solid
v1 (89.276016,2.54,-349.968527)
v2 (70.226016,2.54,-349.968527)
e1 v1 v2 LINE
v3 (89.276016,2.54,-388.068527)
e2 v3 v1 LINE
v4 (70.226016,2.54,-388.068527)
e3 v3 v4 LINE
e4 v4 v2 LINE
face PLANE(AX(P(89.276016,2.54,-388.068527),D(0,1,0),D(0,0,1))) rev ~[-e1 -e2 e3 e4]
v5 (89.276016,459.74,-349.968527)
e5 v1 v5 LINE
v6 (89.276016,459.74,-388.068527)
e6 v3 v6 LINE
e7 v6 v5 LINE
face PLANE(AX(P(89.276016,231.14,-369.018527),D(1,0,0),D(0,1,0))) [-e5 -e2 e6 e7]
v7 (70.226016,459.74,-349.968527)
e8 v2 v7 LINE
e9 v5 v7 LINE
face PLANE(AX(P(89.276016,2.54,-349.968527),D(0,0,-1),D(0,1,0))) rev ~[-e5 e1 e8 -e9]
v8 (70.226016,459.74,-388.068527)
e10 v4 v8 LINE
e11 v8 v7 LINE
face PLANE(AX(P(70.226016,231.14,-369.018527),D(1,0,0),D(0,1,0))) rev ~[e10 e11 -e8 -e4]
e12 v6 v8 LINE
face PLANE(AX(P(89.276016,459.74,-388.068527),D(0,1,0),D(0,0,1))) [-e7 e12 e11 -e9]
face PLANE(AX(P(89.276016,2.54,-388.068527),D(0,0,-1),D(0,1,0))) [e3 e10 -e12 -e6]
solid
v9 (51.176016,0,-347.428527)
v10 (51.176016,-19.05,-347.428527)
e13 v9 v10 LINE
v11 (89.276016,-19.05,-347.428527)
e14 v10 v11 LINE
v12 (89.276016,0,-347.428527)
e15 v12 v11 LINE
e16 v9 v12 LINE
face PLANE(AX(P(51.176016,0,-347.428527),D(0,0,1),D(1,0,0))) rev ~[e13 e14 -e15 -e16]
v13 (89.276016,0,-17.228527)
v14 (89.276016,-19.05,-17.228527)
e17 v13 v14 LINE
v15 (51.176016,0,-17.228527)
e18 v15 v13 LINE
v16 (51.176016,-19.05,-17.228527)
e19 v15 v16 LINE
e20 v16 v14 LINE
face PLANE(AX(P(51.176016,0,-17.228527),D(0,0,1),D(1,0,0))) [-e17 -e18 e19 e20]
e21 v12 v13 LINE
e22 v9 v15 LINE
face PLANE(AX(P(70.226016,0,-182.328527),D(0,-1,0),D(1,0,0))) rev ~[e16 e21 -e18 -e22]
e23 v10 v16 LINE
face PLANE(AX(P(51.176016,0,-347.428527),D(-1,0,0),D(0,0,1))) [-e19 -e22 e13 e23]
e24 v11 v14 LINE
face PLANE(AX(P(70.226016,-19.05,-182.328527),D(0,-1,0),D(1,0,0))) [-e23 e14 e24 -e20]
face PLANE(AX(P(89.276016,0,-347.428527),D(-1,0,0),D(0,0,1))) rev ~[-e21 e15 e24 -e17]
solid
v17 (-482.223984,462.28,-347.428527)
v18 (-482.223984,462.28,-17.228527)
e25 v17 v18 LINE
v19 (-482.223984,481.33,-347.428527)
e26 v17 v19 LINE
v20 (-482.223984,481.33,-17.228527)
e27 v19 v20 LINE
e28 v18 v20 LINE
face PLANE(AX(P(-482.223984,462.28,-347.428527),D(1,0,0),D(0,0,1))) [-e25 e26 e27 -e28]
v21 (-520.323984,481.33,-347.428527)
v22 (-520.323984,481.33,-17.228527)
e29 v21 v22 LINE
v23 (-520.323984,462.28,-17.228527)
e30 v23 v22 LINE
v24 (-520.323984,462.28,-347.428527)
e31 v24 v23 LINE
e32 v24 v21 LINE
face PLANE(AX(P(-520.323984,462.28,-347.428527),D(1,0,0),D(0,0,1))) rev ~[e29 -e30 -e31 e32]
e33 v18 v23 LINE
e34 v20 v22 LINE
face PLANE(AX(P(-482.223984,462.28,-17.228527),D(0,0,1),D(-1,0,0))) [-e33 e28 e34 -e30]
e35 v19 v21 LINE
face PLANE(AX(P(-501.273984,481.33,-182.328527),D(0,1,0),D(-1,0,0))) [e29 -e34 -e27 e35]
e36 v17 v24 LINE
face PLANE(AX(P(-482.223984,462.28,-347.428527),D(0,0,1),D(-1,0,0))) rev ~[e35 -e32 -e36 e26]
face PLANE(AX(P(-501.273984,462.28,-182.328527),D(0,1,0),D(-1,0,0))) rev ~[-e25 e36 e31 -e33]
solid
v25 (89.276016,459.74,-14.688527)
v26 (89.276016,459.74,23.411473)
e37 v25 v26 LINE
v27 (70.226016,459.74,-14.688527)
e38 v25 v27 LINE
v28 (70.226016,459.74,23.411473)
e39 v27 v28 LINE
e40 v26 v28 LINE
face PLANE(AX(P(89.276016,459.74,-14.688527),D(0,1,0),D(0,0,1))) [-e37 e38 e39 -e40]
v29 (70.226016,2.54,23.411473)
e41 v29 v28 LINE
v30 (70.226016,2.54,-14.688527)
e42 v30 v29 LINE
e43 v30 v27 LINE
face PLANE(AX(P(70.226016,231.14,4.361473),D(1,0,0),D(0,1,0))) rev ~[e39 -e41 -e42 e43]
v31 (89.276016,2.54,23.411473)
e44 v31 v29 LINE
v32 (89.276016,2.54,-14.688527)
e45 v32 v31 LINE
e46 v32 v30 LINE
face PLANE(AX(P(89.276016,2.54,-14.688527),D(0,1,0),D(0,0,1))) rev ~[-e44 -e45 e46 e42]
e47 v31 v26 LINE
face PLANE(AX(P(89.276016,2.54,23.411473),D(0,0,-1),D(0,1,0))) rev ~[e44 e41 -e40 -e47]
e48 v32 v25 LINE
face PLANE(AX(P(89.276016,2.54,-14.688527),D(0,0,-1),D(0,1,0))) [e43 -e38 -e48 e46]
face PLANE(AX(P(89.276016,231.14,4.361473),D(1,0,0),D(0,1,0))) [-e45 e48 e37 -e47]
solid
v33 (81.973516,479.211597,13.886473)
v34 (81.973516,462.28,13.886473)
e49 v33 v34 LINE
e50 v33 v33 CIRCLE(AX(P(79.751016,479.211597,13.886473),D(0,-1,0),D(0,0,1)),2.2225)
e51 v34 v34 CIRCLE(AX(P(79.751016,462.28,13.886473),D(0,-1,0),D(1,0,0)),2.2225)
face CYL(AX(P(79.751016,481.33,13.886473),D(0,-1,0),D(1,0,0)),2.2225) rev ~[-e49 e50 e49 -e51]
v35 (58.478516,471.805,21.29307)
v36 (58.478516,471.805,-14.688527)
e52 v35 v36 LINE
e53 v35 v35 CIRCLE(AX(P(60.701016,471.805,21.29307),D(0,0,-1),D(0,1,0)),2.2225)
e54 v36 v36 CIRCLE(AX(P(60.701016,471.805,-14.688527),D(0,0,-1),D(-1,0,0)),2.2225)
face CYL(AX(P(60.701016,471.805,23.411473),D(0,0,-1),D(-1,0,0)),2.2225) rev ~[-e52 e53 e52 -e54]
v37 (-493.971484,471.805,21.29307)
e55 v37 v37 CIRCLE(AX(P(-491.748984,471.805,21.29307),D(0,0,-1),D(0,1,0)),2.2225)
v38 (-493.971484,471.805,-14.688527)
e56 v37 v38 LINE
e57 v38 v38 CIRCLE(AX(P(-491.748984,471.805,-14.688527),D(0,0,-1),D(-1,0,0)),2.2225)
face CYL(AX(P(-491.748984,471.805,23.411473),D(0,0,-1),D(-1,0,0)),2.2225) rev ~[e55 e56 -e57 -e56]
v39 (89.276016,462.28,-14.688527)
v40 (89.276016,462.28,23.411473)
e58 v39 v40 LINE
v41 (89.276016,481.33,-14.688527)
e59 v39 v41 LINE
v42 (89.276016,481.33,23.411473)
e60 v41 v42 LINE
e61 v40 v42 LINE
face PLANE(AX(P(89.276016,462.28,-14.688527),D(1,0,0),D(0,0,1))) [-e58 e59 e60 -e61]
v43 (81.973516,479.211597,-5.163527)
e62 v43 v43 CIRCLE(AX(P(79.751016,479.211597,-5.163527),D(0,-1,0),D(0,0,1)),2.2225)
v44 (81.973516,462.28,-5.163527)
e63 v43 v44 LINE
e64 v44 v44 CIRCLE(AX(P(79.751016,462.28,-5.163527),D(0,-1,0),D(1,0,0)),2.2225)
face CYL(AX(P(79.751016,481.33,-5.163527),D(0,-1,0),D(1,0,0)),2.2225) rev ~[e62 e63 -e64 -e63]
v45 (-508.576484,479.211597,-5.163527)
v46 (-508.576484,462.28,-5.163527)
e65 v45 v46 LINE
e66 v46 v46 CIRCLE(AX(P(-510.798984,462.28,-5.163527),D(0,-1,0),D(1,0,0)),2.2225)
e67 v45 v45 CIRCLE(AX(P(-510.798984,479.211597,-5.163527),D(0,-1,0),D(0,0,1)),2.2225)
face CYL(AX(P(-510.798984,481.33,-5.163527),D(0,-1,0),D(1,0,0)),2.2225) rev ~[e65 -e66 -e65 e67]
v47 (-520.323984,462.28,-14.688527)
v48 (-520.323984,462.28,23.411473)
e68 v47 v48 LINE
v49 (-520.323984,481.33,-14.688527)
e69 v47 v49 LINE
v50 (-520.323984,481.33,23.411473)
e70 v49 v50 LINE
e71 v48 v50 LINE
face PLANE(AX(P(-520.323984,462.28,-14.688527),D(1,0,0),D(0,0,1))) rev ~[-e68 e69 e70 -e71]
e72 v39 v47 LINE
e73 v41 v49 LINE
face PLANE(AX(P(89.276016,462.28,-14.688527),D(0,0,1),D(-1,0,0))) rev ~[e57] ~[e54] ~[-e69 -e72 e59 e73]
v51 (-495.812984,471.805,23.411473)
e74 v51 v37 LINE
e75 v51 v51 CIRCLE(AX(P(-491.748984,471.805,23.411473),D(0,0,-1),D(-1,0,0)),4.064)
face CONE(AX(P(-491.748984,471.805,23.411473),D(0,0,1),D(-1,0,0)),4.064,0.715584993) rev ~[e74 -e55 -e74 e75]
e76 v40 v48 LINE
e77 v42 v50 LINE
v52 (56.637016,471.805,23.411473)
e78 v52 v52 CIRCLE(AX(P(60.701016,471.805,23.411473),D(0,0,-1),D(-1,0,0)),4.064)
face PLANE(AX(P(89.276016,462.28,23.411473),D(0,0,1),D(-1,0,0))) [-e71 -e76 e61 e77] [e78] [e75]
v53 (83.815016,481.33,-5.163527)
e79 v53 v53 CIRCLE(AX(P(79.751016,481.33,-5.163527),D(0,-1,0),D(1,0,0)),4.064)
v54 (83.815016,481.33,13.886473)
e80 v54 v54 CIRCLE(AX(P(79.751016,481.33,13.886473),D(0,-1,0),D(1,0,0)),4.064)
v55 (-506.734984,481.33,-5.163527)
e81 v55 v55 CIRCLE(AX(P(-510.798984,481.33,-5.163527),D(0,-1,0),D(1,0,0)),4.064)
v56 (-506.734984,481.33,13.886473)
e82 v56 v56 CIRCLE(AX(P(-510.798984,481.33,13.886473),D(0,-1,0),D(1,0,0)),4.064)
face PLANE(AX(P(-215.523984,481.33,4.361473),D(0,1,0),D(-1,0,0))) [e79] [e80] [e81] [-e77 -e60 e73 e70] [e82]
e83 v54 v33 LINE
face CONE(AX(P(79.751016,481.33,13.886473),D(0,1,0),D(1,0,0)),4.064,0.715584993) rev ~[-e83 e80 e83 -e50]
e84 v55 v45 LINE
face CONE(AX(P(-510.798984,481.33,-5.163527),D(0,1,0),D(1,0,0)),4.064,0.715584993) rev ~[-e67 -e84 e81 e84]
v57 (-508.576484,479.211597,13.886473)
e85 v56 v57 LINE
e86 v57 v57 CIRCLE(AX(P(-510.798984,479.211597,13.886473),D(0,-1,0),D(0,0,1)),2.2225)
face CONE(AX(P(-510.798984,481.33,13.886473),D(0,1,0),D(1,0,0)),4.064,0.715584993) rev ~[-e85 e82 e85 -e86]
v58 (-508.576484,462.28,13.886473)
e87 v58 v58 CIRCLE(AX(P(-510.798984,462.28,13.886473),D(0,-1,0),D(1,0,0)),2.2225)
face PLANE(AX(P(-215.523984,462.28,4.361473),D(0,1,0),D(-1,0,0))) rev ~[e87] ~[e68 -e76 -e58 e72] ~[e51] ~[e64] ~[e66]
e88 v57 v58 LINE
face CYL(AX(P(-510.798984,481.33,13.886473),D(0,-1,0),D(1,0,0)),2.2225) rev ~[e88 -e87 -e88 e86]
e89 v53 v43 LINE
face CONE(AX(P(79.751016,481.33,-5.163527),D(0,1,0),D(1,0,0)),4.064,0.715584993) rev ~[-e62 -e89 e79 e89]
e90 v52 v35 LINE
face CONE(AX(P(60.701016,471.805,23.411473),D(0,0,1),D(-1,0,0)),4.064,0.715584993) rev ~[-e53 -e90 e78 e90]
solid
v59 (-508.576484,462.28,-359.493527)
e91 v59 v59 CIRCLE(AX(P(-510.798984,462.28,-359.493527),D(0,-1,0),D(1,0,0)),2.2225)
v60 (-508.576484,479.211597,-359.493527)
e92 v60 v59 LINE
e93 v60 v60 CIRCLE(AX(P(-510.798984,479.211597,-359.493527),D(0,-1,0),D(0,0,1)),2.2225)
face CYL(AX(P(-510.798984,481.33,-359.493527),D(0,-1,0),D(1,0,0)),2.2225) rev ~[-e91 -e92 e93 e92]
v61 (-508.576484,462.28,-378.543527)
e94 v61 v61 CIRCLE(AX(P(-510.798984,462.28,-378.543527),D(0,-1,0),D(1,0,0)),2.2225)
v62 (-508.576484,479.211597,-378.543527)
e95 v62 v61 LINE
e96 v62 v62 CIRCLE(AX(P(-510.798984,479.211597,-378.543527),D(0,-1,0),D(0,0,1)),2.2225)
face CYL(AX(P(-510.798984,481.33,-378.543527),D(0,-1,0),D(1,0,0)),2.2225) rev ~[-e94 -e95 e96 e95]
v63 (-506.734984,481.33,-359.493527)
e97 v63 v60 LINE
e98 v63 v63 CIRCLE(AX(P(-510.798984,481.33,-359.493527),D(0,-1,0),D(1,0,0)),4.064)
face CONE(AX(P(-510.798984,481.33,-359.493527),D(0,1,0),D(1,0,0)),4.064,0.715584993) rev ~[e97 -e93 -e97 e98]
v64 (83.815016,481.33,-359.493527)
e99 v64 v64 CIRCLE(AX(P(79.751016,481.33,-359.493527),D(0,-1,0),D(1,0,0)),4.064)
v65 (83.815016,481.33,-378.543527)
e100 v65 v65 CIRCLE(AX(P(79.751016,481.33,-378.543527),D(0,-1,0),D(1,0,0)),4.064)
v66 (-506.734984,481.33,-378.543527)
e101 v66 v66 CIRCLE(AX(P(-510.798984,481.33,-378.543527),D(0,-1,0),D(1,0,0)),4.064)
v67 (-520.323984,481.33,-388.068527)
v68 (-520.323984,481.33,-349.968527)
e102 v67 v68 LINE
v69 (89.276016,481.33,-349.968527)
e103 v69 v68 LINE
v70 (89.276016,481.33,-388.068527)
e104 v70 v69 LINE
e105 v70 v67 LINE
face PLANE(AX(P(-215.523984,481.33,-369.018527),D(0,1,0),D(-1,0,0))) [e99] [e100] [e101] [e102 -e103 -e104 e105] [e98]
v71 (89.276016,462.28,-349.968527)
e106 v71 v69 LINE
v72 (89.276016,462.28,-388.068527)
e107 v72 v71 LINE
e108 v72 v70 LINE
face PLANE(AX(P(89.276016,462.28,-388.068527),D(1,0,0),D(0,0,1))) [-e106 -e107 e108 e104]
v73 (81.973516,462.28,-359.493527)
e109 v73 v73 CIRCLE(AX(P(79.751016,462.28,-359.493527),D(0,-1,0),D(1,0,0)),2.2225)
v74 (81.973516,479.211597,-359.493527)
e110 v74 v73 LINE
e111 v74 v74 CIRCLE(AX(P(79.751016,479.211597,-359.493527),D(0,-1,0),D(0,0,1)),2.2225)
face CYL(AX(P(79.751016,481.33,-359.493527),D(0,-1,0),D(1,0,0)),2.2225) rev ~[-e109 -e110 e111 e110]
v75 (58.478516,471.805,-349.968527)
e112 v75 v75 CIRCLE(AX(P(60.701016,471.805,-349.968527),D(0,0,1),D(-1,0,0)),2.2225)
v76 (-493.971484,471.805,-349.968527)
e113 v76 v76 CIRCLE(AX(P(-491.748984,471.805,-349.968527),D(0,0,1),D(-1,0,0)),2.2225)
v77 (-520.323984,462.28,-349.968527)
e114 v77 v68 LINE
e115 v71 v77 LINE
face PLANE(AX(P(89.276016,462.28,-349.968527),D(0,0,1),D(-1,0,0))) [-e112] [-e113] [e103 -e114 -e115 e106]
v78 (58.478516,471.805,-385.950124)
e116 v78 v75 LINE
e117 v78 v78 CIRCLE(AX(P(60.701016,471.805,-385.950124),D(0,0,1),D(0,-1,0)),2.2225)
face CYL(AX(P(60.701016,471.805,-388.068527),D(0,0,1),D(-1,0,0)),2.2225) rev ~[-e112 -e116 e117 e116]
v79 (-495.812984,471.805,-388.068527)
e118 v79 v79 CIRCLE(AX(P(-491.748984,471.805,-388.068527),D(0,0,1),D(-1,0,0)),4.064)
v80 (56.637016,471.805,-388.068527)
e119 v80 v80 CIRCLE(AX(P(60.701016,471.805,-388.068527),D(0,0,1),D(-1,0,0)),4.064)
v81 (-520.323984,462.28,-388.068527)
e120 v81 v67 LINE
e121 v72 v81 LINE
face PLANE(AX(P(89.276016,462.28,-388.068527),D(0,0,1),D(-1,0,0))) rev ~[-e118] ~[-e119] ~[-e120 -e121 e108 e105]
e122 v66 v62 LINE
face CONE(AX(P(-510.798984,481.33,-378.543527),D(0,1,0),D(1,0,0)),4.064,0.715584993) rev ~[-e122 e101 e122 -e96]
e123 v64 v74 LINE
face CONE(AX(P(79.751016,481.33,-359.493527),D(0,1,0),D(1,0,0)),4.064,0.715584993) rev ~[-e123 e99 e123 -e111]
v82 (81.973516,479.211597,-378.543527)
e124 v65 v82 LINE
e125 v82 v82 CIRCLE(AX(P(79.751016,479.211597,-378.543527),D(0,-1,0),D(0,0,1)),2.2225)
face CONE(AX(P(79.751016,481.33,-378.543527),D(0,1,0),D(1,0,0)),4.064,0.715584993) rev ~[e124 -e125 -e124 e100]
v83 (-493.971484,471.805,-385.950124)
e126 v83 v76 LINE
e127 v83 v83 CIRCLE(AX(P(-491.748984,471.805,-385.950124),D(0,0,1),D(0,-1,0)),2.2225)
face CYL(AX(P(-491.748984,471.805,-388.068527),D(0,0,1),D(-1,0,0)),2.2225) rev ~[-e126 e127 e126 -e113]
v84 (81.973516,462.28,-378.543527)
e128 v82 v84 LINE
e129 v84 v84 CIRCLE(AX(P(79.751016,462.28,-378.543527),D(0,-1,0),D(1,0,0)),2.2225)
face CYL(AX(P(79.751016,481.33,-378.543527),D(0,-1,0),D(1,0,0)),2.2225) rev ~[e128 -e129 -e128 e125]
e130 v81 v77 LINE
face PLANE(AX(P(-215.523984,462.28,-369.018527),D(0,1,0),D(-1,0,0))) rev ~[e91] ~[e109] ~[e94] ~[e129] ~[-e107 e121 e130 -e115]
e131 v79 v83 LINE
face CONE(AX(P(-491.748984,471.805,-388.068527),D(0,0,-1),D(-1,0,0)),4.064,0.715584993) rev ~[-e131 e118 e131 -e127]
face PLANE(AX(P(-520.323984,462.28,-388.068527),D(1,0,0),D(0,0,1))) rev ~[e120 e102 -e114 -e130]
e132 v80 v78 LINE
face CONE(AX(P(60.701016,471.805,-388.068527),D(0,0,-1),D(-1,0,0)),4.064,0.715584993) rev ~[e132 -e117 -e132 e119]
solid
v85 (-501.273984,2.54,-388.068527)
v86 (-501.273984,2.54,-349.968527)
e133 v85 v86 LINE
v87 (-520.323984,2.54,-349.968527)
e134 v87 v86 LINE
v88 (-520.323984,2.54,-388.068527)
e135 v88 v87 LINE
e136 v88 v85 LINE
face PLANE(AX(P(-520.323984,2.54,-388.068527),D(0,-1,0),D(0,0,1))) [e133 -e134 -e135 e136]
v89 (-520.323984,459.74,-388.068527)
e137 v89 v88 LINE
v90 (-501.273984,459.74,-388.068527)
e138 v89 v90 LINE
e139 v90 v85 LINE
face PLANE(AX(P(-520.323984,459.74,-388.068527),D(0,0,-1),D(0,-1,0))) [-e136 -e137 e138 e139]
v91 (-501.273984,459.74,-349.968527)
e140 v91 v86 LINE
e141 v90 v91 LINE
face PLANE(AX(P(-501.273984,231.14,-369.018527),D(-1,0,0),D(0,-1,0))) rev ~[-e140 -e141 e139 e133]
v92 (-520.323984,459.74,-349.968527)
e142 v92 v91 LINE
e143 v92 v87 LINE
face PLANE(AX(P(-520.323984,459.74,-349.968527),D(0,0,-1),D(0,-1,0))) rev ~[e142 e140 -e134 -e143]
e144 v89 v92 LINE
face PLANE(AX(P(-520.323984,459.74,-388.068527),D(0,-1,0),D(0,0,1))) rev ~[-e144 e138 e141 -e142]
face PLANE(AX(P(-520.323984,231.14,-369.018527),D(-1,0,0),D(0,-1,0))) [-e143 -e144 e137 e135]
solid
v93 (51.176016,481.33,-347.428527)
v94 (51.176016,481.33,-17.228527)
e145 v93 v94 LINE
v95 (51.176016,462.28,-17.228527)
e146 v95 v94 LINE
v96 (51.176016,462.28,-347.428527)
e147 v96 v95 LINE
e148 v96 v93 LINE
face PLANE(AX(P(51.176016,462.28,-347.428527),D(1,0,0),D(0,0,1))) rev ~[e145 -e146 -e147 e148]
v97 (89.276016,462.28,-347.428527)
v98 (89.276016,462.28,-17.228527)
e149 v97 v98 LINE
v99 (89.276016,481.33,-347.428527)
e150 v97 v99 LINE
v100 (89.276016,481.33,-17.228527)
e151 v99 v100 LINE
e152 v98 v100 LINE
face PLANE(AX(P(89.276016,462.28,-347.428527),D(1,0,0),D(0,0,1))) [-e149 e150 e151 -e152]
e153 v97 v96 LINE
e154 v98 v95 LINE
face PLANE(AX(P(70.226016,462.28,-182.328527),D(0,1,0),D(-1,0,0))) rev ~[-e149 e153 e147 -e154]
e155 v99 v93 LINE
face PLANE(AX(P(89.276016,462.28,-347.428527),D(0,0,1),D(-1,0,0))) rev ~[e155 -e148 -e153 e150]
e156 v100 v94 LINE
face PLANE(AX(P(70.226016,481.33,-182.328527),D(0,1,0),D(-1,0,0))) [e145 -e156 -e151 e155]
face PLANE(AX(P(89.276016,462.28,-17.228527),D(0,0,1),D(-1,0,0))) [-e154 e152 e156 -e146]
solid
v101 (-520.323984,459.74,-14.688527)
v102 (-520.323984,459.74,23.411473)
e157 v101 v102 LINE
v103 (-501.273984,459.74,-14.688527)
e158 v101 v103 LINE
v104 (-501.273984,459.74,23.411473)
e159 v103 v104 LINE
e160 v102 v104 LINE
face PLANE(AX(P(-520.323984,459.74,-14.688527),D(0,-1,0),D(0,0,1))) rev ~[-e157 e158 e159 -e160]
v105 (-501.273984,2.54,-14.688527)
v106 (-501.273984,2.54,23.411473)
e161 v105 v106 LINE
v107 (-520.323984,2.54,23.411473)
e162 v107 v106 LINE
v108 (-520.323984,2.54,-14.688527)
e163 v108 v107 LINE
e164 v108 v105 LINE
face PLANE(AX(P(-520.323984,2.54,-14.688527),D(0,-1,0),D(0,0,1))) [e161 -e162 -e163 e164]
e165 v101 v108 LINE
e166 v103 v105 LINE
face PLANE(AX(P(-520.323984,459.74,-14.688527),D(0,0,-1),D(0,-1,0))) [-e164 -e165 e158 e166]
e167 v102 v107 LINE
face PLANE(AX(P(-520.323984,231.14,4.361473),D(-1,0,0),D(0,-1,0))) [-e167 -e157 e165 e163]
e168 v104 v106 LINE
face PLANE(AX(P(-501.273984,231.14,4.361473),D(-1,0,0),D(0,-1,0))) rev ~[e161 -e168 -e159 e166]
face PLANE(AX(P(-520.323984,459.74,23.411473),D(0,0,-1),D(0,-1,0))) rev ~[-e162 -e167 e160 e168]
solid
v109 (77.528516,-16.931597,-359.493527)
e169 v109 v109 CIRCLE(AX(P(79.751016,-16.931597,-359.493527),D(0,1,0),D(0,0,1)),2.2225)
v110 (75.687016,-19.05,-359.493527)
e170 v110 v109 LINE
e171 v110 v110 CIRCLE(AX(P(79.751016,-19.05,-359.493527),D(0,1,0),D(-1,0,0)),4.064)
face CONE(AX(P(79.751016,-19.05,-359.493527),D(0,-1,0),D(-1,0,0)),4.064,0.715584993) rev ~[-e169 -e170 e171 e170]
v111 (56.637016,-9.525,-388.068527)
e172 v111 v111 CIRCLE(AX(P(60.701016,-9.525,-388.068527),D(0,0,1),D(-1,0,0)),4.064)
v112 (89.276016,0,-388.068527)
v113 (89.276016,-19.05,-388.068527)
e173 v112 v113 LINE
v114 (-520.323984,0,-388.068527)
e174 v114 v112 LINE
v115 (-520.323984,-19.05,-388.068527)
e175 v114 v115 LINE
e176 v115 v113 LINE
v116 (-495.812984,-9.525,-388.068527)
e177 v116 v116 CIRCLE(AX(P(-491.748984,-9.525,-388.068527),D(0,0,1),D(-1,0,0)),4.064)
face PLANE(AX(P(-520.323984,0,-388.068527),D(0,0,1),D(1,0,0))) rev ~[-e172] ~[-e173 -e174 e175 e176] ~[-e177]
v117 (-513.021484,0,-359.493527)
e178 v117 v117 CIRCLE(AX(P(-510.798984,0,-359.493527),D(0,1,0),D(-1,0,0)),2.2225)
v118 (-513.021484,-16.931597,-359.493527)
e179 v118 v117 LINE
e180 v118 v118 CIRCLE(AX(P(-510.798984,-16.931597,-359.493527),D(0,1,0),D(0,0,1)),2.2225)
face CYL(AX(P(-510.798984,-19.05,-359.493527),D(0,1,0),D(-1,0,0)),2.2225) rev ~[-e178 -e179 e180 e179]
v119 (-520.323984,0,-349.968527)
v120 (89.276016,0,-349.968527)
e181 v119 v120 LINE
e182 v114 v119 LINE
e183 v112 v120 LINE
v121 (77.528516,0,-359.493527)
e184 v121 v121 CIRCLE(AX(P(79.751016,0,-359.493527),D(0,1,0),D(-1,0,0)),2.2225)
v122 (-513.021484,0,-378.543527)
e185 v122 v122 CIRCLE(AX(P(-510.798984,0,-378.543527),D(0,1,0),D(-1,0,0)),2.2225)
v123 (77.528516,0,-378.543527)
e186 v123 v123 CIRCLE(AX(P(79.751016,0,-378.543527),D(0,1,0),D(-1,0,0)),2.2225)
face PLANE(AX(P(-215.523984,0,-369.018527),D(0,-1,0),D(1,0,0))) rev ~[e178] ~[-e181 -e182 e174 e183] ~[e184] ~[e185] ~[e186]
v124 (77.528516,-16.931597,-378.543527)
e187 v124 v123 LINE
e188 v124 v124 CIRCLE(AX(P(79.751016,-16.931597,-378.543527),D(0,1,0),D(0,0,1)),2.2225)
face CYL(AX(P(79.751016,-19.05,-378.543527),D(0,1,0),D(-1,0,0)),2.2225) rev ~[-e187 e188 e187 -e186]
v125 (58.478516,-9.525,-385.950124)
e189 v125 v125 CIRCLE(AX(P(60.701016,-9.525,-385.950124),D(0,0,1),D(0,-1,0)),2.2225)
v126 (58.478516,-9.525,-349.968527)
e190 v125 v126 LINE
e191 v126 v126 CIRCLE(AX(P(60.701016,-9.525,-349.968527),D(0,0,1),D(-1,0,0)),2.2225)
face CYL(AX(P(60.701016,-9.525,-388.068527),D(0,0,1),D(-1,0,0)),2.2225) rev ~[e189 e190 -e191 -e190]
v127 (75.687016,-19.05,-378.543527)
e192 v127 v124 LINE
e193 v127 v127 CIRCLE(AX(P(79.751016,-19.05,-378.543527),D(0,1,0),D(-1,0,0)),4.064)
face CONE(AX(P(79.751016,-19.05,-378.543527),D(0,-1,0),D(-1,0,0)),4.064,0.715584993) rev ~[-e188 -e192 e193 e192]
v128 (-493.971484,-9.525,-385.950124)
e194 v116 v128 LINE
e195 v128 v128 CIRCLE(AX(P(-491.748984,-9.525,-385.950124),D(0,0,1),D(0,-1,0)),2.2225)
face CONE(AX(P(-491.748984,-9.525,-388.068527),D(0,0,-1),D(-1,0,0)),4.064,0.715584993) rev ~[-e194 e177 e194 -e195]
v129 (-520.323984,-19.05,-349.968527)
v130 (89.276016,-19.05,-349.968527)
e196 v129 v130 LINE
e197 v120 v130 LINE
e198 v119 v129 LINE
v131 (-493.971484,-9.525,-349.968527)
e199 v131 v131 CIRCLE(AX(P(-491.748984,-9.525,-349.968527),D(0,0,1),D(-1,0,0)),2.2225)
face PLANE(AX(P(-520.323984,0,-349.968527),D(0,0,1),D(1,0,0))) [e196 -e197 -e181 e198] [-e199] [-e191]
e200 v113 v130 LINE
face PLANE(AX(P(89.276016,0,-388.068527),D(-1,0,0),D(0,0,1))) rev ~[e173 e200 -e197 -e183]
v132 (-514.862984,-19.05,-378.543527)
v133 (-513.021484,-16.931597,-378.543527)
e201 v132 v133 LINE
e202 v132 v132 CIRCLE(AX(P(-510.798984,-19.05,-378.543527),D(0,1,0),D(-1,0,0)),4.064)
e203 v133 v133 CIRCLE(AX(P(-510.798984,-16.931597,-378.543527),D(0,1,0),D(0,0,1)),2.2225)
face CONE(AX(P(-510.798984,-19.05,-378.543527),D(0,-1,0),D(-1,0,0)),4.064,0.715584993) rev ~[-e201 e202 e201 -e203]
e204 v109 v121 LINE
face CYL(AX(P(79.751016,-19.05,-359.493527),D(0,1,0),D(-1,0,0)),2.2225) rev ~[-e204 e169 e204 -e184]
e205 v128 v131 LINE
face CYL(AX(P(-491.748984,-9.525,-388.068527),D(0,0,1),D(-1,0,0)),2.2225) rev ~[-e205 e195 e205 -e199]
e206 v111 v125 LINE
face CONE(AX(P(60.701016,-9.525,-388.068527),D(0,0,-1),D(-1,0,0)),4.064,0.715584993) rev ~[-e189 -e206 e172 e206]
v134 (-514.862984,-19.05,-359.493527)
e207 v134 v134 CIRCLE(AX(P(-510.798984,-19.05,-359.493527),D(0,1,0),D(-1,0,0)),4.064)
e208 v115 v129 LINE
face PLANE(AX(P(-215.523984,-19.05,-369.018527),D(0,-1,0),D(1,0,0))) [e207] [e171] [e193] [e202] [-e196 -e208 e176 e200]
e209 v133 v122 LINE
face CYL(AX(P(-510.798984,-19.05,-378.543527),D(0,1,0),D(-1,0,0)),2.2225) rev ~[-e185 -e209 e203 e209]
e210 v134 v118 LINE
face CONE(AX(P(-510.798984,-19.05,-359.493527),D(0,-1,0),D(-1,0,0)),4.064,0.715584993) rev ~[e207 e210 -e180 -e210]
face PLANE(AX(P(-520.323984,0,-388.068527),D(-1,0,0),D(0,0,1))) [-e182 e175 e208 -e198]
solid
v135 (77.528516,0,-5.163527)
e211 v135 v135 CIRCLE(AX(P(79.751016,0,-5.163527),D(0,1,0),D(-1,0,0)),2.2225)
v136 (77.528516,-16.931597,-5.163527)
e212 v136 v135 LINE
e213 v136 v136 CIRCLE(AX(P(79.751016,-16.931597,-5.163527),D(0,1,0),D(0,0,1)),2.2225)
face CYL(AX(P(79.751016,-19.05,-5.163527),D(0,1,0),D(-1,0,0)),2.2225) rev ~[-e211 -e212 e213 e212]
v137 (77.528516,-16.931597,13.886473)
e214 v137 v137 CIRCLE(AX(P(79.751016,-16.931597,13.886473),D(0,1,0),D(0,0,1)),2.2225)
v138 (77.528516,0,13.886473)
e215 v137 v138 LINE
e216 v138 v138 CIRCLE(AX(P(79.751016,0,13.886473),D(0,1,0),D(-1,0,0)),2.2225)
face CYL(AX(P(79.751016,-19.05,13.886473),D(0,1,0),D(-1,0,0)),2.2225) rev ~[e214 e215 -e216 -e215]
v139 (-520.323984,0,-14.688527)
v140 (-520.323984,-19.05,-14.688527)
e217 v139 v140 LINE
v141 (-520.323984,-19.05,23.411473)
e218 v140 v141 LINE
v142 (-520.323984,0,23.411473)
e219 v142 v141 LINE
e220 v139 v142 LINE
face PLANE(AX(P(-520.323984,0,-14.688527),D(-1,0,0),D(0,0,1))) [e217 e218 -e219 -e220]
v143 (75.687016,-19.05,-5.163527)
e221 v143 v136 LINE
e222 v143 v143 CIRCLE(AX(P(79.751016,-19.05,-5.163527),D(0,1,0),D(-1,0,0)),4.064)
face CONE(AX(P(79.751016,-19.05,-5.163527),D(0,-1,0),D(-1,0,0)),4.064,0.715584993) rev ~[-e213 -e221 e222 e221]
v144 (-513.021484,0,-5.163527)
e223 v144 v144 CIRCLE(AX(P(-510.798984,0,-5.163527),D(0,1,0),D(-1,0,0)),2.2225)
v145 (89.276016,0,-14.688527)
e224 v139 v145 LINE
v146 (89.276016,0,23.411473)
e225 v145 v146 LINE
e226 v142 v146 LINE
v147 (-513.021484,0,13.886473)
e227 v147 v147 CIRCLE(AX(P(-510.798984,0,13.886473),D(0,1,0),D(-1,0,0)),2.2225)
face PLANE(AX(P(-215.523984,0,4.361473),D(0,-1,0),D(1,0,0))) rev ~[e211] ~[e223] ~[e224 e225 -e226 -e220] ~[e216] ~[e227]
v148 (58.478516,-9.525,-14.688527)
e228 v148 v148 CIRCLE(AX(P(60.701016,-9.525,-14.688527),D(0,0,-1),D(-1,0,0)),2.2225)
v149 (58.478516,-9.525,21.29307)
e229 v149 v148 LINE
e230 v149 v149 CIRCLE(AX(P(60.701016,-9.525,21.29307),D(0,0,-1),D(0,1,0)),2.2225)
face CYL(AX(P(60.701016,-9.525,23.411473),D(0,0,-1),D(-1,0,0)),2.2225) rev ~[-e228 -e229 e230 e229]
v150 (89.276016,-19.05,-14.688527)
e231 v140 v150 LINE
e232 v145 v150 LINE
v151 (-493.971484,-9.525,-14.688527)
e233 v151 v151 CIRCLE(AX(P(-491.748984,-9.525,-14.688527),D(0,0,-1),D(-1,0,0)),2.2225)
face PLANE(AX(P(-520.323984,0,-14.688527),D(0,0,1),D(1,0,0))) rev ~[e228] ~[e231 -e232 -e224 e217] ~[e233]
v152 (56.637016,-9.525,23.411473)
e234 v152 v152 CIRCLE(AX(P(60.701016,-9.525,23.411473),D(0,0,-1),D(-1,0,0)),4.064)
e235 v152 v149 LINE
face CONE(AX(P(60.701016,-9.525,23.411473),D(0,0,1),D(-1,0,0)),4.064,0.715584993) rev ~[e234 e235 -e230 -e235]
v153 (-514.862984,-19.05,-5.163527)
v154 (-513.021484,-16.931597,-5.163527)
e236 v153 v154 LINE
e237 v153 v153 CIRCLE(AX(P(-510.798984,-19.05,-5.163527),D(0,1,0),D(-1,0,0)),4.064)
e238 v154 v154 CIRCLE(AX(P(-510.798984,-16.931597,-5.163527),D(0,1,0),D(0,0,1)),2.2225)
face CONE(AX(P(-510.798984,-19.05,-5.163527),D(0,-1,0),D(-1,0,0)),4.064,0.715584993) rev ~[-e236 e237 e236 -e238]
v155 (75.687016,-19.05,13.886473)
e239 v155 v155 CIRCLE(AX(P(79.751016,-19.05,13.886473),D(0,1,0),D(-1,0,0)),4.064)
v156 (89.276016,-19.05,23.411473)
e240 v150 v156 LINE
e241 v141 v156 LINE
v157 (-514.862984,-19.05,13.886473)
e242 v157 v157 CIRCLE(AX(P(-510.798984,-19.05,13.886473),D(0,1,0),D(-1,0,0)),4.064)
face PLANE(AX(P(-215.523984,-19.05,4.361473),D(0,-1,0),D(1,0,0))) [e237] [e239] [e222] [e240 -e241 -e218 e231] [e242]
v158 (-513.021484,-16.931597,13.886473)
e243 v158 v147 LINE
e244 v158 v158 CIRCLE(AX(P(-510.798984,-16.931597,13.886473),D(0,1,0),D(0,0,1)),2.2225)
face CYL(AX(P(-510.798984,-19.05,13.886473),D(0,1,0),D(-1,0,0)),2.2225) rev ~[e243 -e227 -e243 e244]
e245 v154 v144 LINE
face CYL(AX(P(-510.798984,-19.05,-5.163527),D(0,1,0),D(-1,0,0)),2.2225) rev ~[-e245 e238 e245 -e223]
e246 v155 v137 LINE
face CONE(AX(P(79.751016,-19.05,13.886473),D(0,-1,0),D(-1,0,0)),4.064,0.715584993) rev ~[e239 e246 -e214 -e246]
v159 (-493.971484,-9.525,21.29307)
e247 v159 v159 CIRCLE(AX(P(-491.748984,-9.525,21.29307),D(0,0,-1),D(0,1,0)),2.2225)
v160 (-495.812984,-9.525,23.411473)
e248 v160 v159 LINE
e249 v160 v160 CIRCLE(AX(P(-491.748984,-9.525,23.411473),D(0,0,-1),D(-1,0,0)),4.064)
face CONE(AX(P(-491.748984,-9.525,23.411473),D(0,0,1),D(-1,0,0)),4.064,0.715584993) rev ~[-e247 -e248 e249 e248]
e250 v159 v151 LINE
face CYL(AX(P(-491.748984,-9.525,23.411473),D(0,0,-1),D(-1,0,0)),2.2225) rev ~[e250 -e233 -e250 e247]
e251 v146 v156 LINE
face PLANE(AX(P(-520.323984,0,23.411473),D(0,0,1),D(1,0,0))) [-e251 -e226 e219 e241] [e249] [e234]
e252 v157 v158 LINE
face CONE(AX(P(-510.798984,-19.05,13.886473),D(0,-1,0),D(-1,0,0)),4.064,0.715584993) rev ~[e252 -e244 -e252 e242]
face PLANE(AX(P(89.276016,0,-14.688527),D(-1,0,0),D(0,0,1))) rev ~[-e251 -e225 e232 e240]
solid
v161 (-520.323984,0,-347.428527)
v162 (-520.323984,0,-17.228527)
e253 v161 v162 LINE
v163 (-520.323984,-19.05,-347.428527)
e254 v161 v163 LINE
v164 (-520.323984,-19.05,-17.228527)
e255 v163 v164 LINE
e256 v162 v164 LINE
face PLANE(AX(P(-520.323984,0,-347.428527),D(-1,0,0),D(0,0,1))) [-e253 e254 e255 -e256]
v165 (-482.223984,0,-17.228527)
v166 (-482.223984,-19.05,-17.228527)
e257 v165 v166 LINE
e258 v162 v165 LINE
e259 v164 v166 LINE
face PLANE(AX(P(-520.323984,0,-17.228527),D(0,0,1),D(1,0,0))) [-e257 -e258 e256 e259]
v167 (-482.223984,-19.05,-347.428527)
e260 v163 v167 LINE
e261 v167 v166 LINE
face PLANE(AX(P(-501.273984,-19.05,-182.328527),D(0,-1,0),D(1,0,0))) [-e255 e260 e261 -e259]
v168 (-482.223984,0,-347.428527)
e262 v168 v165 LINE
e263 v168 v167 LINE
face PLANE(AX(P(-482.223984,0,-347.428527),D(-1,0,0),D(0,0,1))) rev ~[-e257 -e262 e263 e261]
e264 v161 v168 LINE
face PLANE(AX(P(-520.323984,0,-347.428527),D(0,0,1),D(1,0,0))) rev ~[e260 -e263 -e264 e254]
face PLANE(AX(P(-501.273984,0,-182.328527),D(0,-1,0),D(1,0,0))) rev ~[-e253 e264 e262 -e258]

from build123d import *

# Parameters (mm, degrees)
F0_W              = 38.1
F0_H              = 330.2
F1_DEPTH          = 19.05
F0_W_2            = 609.6
F0_H_2            = 38.1
F2_W              = 457.2
F2_H              = 38.1
F3_DEPTH          = 19.05
F5_W              = 609.6
F5_H              = 38.1
F6_DEPTH          = 19.05
F5_W_2            = 38.1
F5_H_2            = 330.2
F7_W              = 457.2
F7_H              = 38.1
F8_DEPTH          = 19.05
F10_D             = 4.445
F10_CSINK_D       = 8.128
F10_CSINK_ANGLE   = 82
F10_2_D           = 4.445
F10_2_CSINK_D     = 8.128
F10_2_CSINK_ANGLE = 82
F12_D             = 4.445
F12_CSINK_D       = 8.128
F12_CSINK_ANGLE   = 82
F12_2_D           = 4.445
F12_2_CSINK_D     = 8.128
F12_2_CSINK_ANGLE = 82
F14_D             = 4.445
F14_CSINK_D       = 8.128
F14_CSINK_ANGLE   = 82
F14_2_D           = 4.445
F14_2_CSINK_D     = 8.128
F14_2_CSINK_ANGLE = 82
F16_D             = 4.445
F16_CSINK_D       = 8.128
F16_CSINK_ANGLE   = 82
F16_2_D           = 4.445
F16_2_CSINK_D     = 8.128
F16_2_CSINK_ANGLE = 82


with BuildPart() as f1:
    # F0 (on Front) → F1 (new body)
    with BuildSketch(Plane.XZ):
        with Locations((-501.2739842415, -182.3285269833)):
            Rectangle(F0_W, F0_H)
    extrude(amount=F1_DEPTH)


with BuildPart() as f1b:
    # F0 (on Front) → F1, piece 2 (new body)
    with BuildSketch(Plane.XZ):
        with Locations((-215.5239842415, 4.3614730167)):
            Rectangle(F0_W_2, F0_H_2)
    extrude(amount=F1_DEPTH)

    # F10 (through all)
    with Locations(Plane.XY.offset(23.4114730167)):
        with Locations((-491.7489842415, -9.525), (60.7010157585, -9.525), (60.7010157585, 471.805), (-491.7489842415, 471.805)):
            CounterSinkHole(F10_D / 2, F10_CSINK_D / 2, counter_sink_angle=F10_CSINK_ANGLE)

    # F16 (through all)
    with Locations(Plane.XZ.offset(19.05)):
        with Locations((79.7510157585, -378.5435269833), (79.7510157585, -359.4935269833), (-510.7989842415, -378.5435269833), (-510.7989842415, -359.4935269833), (-510.7989842415, 13.8864730167), (-510.7989842415, -5.1635269833), (79.7510157585, 13.8864730167), (79.7510157585, -5.1635269833)):
            CounterSinkHole(F16_D / 2, F16_CSINK_D / 2, counter_sink_angle=F16_CSINK_ANGLE)


with BuildPart() as f1c:
    # F0 (on Front) → F1, piece 3 (new body)
    with BuildSketch(Plane.XZ):
        with Locations((70.2260157585, -182.3285269833)):
            Rectangle(F0_W, F0_H)
    extrude(amount=F1_DEPTH)


with BuildPart() as f1d:
    # F0 (on Front) → F1, piece 4 (new body)
    with BuildSketch(Plane.XZ):
        with Locations((-215.5239842415, -369.0185269833)):
            Rectangle(F0_W_2, F0_H_2)
    extrude(amount=F1_DEPTH)

    # F12 (through all)
    with Locations(Plane(origin=(0, 0, -388.0685269833), x_dir=(1, 0, 0), z_dir=(0, 0, -1))):
        with Locations((-491.7489842415, 9.525), (60.7010157585, 9.525), (-491.7489842415, -471.805), (60.7010157585, -471.805)):
            CounterSinkHole(F12_D / 2, F12_CSINK_D / 2, counter_sink_angle=F12_CSINK_ANGLE)

    # F16#2 (through all)
    with Locations(Plane.XZ.offset(19.05)):
        with Locations((79.7510157585, -378.5435269833), (79.7510157585, -359.4935269833), (-510.7989842415, -378.5435269833), (-510.7989842415, -359.4935269833), (-510.7989842415, 13.8864730167), (-510.7989842415, -5.1635269833), (79.7510157585, 13.8864730167), (79.7510157585, -5.1635269833)):
            CounterSinkHole(F16_2_D / 2, F16_2_CSINK_D / 2, counter_sink_angle=F16_2_CSINK_ANGLE)


with BuildPart() as f3:
    # F2 (on face) → F3 (new body)
    with BuildSketch(Plane.YZ.offset(89.2760157585)):
        with Locations((231.14, 4.3614730167)):
            Rectangle(F2_W, F2_H)
    extrude(amount=-F3_DEPTH)


with BuildPart() as f3b:
    # F2 (on face) → F3, piece 2 (new body)
    with BuildSketch(Plane.YZ.offset(89.2760157585)):
        with Locations((231.14, -369.0185269833)):
            Rectangle(F2_W, F2_H)
    extrude(amount=-F3_DEPTH)


with BuildPart() as f6:
    # F5 (on offset) → F6 (new body)
    with BuildSketch(Plane(origin=(0, 462.28, 0), x_dir=(-1, 0, 0), z_dir=(0, 1, 0))):
        with Locations((215.5239842415, 4.3614730167)):
            Rectangle(F5_W, F5_H)
    extrude(amount=F6_DEPTH)

    # F10#2 (through all)
    with Locations(Plane.XY.offset(23.4114730167)):
        with Locations((-491.7489842415, -9.525), (60.7010157585, -9.525), (60.7010157585, 471.805), (-491.7489842415, 471.805)):
            CounterSinkHole(F10_2_D / 2, F10_2_CSINK_D / 2, counter_sink_angle=F10_2_CSINK_ANGLE)

    # F14 (through all)
    with Locations(Plane(origin=(0, 481.33, 0), x_dir=(-1, 0, 0), z_dir=(0, 1, 0))):
        with Locations((510.7989842415, -378.5435269833), (510.7989842415, -359.4935269833), (-79.7510157585, -378.5435269833), (-79.7510157585, -359.4935269833), (-79.7510157585, -5.1635269833), (-79.7510157585, 13.8864730167), (510.7989842415, -5.1635269833), (510.7989842415, 13.8864730167)):
            CounterSinkHole(F14_D / 2, F14_CSINK_D / 2, counter_sink_angle=F14_CSINK_ANGLE)


with BuildPart() as f6b:
    # F5 (on offset) → F6, piece 2 (new body)
    with BuildSketch(Plane(origin=(0, 462.28, 0), x_dir=(-1, 0, 0), z_dir=(0, 1, 0))):
        with Locations((501.2739842415, -182.3285269833)):
            Rectangle(F5_W_2, F5_H_2)
    extrude(amount=F6_DEPTH)


with BuildPart() as f6c:
    # F5 (on offset) → F6, piece 3 (new body)
    with BuildSketch(Plane(origin=(0, 462.28, 0), x_dir=(-1, 0, 0), z_dir=(0, 1, 0))):
        with Locations((215.5239842415, -369.0185269833)):
            Rectangle(F5_W, F5_H)
    extrude(amount=F6_DEPTH)

    # F12#2 (through all)
    with Locations(Plane(origin=(0, 0, -388.0685269833), x_dir=(1, 0, 0), z_dir=(0, 0, -1))):
        with Locations((-491.7489842415, 9.525), (60.7010157585, 9.525), (-491.7489842415, -471.805), (60.7010157585, -471.805)):
            CounterSinkHole(F12_2_D / 2, F12_2_CSINK_D / 2, counter_sink_angle=F12_2_CSINK_ANGLE)

    # F14#2 (through all)
    with Locations(Plane(origin=(0, 481.33, 0), x_dir=(-1, 0, 0), z_dir=(0, 1, 0))):
        with Locations((510.7989842415, -378.5435269833), (510.7989842415, -359.4935269833), (-79.7510157585, -378.5435269833), (-79.7510157585, -359.4935269833), (-79.7510157585, -5.1635269833), (-79.7510157585, 13.8864730167), (510.7989842415, -5.1635269833), (510.7989842415, 13.8864730167)):
            CounterSinkHole(F14_2_D / 2, F14_2_CSINK_D / 2, counter_sink_angle=F14_2_CSINK_ANGLE)


with BuildPart() as f6d:
    # F5 (on offset) → F6, piece 4 (new body)
    with BuildSketch(Plane(origin=(0, 462.28, 0), x_dir=(-1, 0, 0), z_dir=(0, 1, 0))):
        with Locations((-70.2260157585, -182.3285269833)):
            Rectangle(F5_W_2, F5_H_2)
    extrude(amount=F6_DEPTH)


with BuildPart() as f8:
    # F7 (on face) → F8 (new body)
    with BuildSketch(Plane(origin=(-520.3239842415, 0, 0), x_dir=(0, -1, 0), z_dir=(-1, 0, 0))):
        with Locations((-231.14, 4.3614730167)):
            Rectangle(F7_W, F7_H)
    extrude(amount=-F8_DEPTH)


with BuildPart() as f8b:
    # F7 (on face) → F8, piece 2 (new body)
    with BuildSketch(Plane(origin=(-520.3239842415, 0, 0), x_dir=(0, -1, 0), z_dir=(-1, 0, 0))):
        with Locations((-231.14, -369.0185269833)):
            Rectangle(F7_W, F7_H)
    extrude(amount=-F8_DEPTH)


solid = Compound([f1.part, f1b.part, f1c.part, f1d.part, f3.part, f3b.part, f6.part, f6b.part, f6c.part, f6d.part, f8.part, f8b.part])
